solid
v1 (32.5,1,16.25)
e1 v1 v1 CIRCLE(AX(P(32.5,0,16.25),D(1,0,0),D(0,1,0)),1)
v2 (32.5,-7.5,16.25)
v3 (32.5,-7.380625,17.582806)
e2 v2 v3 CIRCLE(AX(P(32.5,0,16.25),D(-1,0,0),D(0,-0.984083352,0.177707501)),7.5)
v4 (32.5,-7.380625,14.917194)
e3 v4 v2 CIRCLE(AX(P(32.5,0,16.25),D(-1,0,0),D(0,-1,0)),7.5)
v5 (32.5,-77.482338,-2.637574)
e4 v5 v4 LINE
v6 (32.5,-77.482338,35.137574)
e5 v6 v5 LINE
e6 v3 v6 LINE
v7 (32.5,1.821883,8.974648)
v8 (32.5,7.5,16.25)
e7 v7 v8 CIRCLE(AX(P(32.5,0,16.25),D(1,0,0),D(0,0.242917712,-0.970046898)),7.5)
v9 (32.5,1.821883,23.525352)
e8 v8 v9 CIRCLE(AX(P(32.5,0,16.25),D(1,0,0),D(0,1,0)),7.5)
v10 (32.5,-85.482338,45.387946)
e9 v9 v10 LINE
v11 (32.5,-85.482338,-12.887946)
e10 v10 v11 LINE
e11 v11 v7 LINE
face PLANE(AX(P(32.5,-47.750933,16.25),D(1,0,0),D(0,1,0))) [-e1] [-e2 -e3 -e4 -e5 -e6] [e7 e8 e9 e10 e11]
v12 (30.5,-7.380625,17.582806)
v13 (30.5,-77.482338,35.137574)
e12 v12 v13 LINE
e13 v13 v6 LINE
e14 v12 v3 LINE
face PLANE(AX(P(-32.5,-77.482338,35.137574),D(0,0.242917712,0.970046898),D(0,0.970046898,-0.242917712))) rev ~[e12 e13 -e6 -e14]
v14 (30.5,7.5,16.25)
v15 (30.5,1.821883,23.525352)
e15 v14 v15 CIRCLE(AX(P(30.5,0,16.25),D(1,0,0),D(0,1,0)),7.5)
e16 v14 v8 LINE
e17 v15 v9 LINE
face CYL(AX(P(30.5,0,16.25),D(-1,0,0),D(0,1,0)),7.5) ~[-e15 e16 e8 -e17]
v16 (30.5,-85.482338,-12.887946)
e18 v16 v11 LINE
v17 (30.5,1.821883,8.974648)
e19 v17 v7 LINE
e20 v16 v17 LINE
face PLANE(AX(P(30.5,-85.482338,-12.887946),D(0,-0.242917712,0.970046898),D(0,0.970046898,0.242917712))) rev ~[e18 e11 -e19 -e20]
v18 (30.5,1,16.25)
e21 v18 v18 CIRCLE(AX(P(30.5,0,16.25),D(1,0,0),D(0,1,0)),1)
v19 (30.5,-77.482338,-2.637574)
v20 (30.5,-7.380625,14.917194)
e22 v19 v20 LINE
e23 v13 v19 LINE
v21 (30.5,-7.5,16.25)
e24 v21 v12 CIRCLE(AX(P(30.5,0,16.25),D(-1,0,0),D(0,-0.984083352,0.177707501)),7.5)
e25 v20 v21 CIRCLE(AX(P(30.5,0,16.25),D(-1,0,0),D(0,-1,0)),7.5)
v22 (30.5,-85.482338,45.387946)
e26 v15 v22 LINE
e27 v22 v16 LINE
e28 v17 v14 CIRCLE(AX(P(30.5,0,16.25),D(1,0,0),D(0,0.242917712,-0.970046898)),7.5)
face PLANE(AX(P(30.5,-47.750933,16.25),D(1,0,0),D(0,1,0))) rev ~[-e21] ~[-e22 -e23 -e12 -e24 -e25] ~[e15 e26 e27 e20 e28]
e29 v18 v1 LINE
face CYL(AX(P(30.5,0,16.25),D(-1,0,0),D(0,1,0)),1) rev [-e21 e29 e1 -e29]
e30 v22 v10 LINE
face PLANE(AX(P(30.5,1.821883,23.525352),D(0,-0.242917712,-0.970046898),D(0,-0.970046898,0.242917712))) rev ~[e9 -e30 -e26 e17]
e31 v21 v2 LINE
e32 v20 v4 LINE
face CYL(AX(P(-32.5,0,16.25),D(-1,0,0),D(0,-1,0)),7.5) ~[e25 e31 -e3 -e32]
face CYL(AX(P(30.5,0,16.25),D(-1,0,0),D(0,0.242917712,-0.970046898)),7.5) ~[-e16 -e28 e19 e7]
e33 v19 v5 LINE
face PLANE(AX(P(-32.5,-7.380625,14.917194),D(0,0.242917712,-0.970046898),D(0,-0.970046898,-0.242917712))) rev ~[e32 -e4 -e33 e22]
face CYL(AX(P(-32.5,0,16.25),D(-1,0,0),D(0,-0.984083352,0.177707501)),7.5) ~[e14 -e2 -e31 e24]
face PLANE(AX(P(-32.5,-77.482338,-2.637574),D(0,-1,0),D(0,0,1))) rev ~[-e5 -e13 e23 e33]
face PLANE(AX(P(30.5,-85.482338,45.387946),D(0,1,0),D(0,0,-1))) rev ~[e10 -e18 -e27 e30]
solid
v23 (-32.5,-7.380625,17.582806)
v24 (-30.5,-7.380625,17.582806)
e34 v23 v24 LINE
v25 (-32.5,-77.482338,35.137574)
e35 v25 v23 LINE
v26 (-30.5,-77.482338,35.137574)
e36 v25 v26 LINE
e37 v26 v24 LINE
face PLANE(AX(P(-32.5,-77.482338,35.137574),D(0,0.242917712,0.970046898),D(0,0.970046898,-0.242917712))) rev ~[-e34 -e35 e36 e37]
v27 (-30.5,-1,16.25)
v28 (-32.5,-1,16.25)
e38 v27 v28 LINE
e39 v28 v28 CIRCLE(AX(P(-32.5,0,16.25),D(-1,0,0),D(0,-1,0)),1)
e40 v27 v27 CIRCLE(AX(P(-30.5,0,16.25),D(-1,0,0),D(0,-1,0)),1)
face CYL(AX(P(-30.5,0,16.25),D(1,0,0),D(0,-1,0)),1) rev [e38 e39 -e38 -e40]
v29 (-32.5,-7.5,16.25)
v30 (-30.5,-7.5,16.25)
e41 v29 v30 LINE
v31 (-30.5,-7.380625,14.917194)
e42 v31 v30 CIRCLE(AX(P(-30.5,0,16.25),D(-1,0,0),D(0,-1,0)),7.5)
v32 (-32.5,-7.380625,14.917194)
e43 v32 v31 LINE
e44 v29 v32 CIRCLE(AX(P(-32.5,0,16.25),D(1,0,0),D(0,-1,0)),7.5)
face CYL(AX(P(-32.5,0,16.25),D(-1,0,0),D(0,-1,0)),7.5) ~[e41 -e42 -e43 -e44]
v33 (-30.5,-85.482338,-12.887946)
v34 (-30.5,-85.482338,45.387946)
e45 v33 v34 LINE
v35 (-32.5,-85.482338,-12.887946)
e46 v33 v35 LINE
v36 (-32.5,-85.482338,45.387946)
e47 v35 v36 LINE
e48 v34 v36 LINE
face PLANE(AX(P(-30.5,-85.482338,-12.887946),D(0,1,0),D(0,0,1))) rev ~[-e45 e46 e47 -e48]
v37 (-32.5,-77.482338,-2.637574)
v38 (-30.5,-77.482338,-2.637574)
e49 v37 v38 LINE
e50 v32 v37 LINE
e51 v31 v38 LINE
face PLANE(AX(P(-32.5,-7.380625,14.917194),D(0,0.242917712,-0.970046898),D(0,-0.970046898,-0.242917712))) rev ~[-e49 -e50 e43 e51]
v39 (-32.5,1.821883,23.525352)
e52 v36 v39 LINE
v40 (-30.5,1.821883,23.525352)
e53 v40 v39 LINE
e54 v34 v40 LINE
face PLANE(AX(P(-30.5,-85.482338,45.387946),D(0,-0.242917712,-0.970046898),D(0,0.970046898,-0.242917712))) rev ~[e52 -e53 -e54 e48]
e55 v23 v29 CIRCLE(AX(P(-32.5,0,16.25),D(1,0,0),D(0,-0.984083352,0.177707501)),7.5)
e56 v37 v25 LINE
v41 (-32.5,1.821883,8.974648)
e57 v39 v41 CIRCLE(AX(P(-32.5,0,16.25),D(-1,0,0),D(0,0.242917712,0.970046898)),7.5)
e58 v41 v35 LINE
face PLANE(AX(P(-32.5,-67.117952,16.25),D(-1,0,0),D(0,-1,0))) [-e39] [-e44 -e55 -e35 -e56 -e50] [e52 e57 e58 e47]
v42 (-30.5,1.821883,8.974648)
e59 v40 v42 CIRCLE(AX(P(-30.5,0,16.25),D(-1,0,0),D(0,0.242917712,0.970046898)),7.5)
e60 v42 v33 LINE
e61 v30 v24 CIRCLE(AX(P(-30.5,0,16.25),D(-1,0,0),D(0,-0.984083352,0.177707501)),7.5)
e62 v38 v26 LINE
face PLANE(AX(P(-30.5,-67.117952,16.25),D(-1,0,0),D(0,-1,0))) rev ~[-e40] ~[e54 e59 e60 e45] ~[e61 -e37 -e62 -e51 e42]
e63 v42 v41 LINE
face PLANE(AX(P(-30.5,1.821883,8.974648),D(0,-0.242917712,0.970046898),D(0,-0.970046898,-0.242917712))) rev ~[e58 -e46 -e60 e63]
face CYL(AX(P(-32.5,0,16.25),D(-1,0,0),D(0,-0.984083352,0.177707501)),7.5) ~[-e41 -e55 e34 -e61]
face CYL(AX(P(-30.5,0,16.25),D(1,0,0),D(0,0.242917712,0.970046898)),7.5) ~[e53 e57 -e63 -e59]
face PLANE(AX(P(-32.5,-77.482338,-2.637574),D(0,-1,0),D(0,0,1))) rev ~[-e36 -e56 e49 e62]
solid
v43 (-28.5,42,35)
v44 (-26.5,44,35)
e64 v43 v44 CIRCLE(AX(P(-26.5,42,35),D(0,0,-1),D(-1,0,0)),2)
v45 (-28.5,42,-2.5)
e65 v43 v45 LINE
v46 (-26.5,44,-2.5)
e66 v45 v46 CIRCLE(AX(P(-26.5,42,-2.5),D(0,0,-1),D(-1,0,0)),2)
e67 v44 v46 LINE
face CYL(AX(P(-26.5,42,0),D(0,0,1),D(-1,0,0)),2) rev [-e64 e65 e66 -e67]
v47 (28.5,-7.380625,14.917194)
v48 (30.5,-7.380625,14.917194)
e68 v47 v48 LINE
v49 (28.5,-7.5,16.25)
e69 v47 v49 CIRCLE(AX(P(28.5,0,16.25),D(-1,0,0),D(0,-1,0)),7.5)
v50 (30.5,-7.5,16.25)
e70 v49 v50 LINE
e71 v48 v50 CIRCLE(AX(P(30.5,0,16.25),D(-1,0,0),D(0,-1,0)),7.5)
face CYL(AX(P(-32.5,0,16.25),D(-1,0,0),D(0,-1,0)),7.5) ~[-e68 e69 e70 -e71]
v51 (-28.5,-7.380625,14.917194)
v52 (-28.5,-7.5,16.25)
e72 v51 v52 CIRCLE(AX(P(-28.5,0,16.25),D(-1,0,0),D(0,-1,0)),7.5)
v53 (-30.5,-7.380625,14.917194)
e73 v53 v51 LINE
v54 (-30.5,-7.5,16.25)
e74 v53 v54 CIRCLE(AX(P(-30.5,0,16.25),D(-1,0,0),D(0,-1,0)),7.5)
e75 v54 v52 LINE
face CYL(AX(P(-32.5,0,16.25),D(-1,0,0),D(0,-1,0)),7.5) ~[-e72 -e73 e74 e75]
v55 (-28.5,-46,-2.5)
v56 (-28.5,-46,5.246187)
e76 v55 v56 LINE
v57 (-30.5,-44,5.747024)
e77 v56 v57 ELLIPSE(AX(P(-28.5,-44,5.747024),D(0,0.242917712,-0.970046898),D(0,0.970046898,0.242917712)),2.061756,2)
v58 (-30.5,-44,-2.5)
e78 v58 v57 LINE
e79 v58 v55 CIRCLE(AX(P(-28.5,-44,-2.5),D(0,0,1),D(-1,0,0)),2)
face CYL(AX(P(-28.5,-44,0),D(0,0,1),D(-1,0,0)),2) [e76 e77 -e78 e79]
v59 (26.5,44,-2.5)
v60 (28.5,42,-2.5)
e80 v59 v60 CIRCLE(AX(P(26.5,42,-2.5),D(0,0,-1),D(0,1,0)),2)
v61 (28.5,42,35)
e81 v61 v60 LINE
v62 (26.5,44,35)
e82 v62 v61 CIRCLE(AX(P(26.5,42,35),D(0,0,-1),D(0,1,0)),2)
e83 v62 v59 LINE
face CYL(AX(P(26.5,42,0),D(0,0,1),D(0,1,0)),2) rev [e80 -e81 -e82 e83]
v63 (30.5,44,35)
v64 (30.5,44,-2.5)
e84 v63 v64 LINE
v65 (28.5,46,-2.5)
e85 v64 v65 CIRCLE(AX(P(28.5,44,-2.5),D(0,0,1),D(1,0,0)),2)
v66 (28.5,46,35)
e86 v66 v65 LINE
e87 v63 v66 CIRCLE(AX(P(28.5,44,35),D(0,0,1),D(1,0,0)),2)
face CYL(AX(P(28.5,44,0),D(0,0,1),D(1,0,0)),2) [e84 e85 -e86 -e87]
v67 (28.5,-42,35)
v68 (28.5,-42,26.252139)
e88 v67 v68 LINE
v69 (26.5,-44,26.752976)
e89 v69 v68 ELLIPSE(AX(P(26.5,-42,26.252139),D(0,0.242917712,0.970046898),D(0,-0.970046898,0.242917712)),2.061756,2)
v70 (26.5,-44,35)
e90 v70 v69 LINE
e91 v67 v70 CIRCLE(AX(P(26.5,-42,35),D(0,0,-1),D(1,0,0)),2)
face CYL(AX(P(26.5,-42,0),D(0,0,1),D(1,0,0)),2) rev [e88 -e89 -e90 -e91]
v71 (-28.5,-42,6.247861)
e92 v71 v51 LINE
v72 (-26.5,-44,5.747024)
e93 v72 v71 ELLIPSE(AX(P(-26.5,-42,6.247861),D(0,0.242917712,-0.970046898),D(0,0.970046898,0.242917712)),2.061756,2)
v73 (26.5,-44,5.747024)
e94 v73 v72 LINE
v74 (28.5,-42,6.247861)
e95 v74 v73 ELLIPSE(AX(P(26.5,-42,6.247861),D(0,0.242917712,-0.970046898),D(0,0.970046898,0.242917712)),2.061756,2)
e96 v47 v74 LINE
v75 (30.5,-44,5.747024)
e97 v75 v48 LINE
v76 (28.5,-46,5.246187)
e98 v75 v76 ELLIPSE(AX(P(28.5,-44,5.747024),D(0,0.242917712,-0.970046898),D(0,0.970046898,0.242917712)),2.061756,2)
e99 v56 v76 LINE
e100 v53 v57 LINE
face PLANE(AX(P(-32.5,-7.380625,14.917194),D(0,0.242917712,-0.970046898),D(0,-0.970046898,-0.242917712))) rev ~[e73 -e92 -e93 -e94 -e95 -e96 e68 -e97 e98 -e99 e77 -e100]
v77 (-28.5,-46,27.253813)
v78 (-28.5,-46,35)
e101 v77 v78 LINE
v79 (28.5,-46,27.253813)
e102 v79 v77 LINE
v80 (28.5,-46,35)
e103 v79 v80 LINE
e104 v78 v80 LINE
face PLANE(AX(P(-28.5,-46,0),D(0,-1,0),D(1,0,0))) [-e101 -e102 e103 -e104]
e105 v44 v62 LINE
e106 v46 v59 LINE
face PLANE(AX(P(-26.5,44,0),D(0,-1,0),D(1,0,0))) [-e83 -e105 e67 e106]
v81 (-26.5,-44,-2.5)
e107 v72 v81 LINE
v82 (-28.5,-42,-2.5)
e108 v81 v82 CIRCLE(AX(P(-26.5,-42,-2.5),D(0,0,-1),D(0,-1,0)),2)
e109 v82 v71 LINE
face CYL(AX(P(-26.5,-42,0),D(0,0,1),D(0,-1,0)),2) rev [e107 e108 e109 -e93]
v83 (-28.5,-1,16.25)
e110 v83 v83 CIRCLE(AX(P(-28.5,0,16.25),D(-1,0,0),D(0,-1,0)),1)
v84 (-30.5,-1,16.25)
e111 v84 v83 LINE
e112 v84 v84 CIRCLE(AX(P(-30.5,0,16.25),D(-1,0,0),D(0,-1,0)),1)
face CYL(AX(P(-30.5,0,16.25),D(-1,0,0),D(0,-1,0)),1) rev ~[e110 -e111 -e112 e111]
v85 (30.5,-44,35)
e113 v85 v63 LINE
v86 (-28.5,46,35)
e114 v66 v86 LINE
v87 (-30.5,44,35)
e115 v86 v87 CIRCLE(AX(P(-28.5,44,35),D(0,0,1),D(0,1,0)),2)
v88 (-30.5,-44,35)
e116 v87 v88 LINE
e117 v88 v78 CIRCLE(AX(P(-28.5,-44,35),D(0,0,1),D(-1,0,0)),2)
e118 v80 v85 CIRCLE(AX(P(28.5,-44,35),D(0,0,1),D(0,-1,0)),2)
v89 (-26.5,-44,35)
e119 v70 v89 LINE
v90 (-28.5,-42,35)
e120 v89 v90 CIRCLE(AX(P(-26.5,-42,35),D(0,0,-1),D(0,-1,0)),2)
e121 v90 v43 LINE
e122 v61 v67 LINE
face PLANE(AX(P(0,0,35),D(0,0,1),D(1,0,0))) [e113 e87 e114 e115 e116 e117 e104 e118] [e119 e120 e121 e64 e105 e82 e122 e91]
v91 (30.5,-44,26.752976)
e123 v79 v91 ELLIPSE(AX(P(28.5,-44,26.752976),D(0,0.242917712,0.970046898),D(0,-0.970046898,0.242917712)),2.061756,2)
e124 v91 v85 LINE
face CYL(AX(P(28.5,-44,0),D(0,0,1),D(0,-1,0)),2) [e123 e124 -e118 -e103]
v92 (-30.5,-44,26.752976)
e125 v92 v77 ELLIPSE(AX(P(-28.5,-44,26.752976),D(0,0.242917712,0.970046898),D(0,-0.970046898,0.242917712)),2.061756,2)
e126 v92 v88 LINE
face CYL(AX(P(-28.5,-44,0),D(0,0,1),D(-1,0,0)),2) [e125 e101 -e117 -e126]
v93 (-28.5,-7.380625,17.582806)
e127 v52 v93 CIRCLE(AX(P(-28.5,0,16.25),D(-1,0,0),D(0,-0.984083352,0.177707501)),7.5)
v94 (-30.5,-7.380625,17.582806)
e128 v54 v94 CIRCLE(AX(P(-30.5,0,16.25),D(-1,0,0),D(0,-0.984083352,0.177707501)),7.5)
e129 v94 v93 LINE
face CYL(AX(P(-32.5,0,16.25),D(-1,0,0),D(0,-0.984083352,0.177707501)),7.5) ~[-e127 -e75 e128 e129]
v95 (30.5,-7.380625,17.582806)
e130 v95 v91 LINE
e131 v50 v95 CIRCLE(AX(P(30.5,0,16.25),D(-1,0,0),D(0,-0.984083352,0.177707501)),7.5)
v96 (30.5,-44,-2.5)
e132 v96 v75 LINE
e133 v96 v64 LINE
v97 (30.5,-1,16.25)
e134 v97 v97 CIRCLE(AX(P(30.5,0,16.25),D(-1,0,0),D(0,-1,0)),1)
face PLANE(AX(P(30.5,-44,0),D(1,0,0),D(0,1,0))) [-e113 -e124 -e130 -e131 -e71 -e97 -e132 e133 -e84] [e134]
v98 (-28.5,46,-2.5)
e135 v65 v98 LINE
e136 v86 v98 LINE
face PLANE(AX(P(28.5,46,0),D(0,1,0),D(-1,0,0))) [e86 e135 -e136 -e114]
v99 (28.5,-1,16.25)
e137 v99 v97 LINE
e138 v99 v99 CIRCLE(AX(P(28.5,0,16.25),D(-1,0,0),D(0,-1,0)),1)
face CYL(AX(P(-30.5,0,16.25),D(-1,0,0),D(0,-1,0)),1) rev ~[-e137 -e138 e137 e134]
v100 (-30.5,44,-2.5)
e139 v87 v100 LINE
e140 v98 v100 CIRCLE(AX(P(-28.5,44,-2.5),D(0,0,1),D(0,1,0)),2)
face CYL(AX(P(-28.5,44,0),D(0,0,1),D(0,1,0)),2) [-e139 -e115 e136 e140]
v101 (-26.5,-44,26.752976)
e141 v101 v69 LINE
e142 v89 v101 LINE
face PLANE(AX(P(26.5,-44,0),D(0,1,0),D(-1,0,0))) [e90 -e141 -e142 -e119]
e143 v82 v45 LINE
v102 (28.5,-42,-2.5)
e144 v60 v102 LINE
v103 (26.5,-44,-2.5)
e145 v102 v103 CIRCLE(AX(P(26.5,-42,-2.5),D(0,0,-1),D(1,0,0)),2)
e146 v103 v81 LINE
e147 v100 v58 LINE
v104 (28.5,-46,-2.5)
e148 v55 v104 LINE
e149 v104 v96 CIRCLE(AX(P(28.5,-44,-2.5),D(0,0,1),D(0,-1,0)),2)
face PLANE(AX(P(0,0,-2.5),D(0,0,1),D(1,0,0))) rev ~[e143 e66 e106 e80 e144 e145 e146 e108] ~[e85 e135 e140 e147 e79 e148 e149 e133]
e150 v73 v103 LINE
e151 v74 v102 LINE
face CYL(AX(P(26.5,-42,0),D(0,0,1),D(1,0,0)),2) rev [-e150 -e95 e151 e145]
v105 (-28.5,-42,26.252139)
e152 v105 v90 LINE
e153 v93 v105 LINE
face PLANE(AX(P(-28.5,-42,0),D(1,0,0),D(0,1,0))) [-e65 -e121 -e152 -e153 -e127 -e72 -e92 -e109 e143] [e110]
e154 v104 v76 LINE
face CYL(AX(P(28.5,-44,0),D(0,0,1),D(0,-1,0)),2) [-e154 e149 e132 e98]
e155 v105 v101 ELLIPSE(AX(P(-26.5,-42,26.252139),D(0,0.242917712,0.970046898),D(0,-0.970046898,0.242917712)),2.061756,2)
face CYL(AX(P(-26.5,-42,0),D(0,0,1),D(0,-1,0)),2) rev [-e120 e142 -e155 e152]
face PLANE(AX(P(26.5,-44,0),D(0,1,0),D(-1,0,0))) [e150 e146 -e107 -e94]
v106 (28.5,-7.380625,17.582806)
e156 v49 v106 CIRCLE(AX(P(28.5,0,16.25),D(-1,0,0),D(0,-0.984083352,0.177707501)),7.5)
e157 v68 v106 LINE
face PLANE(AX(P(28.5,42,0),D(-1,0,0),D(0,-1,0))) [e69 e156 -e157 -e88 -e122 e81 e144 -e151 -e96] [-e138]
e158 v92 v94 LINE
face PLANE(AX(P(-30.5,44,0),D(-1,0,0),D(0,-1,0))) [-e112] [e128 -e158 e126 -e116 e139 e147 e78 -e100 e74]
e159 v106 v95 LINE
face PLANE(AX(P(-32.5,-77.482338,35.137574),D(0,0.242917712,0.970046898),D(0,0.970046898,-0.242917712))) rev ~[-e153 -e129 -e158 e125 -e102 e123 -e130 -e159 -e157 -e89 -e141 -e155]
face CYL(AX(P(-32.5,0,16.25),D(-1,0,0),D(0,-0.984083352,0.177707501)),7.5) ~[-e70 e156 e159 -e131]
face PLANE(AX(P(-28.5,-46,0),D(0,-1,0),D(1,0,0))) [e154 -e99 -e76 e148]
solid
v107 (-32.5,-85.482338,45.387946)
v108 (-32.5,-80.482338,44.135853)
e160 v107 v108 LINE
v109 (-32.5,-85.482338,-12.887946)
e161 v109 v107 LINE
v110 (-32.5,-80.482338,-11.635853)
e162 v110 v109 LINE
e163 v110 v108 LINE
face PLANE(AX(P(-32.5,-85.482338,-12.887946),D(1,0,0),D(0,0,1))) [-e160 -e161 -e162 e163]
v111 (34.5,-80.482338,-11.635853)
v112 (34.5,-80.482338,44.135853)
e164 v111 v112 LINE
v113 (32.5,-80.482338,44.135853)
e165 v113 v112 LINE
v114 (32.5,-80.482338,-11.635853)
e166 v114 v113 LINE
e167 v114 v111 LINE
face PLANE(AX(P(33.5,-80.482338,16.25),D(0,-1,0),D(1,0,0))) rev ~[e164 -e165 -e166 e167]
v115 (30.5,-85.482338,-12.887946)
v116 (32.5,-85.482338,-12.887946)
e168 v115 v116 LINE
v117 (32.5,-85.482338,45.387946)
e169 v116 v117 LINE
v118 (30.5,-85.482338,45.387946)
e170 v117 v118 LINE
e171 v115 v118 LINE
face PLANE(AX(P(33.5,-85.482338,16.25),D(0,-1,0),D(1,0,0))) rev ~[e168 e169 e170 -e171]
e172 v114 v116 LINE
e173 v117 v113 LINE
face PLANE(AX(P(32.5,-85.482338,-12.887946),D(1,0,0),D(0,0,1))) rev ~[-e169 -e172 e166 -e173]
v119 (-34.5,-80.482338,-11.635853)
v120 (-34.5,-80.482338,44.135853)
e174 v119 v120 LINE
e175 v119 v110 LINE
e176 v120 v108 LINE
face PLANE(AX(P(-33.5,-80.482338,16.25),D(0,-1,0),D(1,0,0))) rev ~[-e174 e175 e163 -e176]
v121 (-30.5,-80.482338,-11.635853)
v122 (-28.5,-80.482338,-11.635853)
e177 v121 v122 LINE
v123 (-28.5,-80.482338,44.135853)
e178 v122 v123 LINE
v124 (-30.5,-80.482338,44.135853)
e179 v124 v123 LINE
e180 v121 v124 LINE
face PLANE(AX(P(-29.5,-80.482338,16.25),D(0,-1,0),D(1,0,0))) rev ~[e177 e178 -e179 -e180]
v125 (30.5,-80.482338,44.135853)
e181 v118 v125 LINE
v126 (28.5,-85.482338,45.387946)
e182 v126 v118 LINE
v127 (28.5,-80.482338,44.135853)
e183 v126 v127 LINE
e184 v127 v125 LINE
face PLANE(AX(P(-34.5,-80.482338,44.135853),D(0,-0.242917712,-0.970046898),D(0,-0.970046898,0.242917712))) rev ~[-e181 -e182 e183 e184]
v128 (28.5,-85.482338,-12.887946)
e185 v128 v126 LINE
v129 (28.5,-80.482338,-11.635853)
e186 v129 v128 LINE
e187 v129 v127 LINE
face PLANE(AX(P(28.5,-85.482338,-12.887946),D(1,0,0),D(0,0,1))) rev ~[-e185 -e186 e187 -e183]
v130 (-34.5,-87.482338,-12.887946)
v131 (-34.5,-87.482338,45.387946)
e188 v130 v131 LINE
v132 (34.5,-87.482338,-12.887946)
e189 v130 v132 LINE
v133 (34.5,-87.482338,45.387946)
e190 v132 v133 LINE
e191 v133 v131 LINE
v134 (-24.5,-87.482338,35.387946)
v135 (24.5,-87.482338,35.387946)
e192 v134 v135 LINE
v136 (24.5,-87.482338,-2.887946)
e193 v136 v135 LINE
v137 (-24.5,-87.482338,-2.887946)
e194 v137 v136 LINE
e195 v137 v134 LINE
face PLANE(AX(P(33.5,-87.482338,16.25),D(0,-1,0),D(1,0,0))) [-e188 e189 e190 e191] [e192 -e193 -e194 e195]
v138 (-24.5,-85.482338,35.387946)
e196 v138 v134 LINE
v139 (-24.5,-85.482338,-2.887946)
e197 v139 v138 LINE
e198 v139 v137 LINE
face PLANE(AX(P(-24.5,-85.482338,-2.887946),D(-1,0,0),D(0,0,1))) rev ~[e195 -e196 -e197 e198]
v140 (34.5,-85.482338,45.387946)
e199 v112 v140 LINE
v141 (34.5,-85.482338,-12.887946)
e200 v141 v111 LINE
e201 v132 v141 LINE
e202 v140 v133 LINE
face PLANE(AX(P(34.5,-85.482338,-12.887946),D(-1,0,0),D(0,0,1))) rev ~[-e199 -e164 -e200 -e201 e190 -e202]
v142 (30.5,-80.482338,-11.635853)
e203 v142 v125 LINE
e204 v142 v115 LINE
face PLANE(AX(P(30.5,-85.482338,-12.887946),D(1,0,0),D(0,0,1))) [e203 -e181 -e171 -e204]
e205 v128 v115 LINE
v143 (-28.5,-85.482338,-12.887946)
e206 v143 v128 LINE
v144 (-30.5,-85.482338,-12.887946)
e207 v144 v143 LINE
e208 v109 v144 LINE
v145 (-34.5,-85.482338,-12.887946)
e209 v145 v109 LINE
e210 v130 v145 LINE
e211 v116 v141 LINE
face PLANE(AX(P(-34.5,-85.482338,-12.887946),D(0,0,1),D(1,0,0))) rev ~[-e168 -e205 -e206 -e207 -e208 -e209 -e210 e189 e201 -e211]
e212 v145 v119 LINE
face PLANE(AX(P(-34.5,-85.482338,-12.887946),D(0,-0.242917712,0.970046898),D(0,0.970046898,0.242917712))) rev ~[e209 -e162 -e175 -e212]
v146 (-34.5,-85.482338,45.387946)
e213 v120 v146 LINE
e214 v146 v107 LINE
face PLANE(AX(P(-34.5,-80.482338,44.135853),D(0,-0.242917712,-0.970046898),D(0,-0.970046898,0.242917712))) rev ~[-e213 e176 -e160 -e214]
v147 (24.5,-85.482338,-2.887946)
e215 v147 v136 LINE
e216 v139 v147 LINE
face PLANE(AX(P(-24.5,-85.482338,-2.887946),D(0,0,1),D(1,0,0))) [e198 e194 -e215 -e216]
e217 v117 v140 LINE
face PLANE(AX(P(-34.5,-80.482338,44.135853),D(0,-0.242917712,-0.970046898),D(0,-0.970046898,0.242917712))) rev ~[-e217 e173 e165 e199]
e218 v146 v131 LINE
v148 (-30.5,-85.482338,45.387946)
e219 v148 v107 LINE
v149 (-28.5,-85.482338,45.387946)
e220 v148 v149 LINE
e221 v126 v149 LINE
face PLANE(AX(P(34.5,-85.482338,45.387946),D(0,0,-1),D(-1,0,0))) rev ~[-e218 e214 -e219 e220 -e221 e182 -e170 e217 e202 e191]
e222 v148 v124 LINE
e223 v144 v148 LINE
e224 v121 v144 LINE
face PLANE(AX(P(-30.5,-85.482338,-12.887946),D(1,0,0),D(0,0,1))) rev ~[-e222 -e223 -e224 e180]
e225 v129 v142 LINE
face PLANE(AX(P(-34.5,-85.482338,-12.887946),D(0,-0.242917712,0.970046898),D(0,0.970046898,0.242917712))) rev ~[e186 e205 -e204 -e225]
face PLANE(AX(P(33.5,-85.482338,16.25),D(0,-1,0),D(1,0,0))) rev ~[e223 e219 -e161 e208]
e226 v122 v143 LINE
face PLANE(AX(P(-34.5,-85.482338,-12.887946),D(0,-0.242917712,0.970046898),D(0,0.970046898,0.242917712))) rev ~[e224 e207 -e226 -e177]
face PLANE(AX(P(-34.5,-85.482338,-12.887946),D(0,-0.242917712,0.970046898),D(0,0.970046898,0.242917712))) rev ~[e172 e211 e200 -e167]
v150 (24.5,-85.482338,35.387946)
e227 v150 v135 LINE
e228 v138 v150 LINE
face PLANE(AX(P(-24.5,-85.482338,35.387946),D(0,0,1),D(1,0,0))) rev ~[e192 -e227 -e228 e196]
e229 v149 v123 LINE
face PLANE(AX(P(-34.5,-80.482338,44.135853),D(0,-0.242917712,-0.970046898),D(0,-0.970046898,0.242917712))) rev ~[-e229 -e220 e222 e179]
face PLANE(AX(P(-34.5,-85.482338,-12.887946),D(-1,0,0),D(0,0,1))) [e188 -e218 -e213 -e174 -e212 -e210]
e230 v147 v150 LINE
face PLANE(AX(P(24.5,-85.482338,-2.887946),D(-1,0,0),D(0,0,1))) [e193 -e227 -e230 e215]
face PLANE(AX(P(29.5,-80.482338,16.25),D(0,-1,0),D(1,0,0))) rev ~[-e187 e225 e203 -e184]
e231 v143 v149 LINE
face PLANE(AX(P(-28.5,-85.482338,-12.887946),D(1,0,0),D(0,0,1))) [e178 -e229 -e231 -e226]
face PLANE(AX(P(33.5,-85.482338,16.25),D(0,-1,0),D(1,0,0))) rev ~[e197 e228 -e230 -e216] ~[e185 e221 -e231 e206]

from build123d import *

# Parameters (mm, degrees)
F1_DEPTH      = 35
F1_DEPTH_BACK = 2.5
F2_R          = 1
F3_DEPTH      = 61.001
F5_R          = 1
F6_DEPTH      = 2
F8_R          = 1
F9_DEPTH      = 2
F10_W         = 2
F10_H         = 58.2758917019
F11_DEPTH     = 5
F10_W_2       = 57
F10_W_3       = 49
F10_H_2       = 38.2758917019
F12_DEPTH     = 2
F14_DEPTH     = 69.001
F16_DEPTH     = 67.001


with BuildPart() as f1:
    # F0 (on Top) → F1 (new body, two sides)
    with BuildSketch(Plane.XY) as f1_sk:
        with BuildLine():
            Line((-30.5, 44), (-30.5, 0))
            Line((-30.5, 0), (-30.5, -44))
            ThreePointArc((-30.5, -44), (-29.9142135624, -45.4142135624), (-28.5, -46))
            Line((-28.5, -46), (28.5, -46))
            ThreePointArc((28.5, -46), (29.9142135624, -45.4142135624), (30.5, -44))
            Line((30.5, -44), (30.5, 0))
            Line((30.5, 0), (30.5, 44))
            ThreePointArc((30.5, 44), (29.9142135624, 45.4142135624), (28.5, 46))
            Line((28.5, 46), (-28.5, 46))
            ThreePointArc((-28.5, 46), (-29.9142135624, 45.4142135624), (-30.5, 44))
        make_face()
        with BuildLine():
            Line((-28.5, -42), (-28.5, 0))
            Line((-28.5, 0), (-28.5, 42))
            ThreePointArc((-28.5, 42), (-27.9142135624, 43.4142135624), (-26.5, 44))
            Line((-26.5, 44), (26.5, 44))
            ThreePointArc((26.5, 44), (27.9142135624, 43.4142135624), (28.5, 42))
            Line((28.5, 42), (28.5, 0))
            Line((28.5, 0), (28.5, -42))
            ThreePointArc((28.5, -42), (27.9142135624, -43.4142135624), (26.5, -44))
            Line((26.5, -44), (10, -44))
            Line((10, -44), (9.5, -44))
            Line((9.5, -44), (-5.5, -44))
            Line((-5.5, -44), (-10, -44))
            Line((-10, -44), (-26.5, -44))
            ThreePointArc((-26.5, -44), (-27.9142135624, -43.4142135624), (-28.5, -42))
        make_face(mode=Mode.SUBTRACT)
    extrude(amount=F1_DEPTH)
    extrude(f1_sk.sketch, amount=-F1_DEPTH_BACK)

    # F2 (on face) → F3 (cut, through all)
    with BuildSketch(Plane(origin=(-30.5, 0, 0), x_dir=(0, -1, 0), z_dir=(-1, 0, 0))):
        with Locations((0, 16.25)):
            Circle(F2_R)
    extrude(amount=-F3_DEPTH, mode=Mode.SUBTRACT)


with BuildPart() as f6:
    # F5 (on offset) → F6 (new body)
    with BuildSketch(Plane(origin=(-30.5, 0, 0), x_dir=(0, -1, 0), z_dir=(-1, 0, 0))):
        Polygon((85.4823380096, 45.3879458509), (44, 35), (44, -2.5), (85.4823380096, -12.8879458509), align=None)
        with BuildLine():
            ThreePointArc((-1.8218828428, 23.5253517377), (4.6144273035, 22.1624496328), (7.5, 16.25))
            ThreePointArc((7.5, 16.25), (4.6144273035, 10.3375503672), (-1.8218828428, 8.9746482623))
            Line((-1.8218828428, 8.9746482623), (44, -2.5))
            Line((44, -2.5), (44, 35))
            Line((44, 35), (-1.8218828428, 23.5253517377))
        make_face()
        with BuildLine():
            ThreePointArc((-1.8218828428, 8.9746482623), (4.6144273035, 10.3375503672), (7.5, 16.25))
            ThreePointArc((7.5, 16.25), (4.6144273035, 22.1624496328), (-1.8218828428, 23.5253517377))
            ThreePointArc((-1.8218828428, 23.5253517377), (-7.5, 16.25), (-1.8218828428, 8.9746482623))
        make_face()
        with Locations((0, 16.25)):
            Circle(F5_R, mode=Mode.SUBTRACT)
    extrude(amount=F6_DEPTH)


with BuildPart() as f9:
    # F8 (on offset) → F9 (new body)
    with BuildSketch(Plane.YZ.offset(30.5)):
        with BuildLine():
            ThreePointArc((1.8218828428, 8.9746482623), (-7.5, 16.25), (1.8218828428, 23.5253517377))
            Line((1.8218828428, 23.5253517377), (-85.4823380096, 45.3879458509))
            Line((-85.4823380096, 45.3879458509), (-85.4823380096, -12.8879458509))
            Line((-85.4823380096, -12.8879458509), (1.8218828428, 8.9746482623))
        make_face()
        with BuildLine():
            ThreePointArc((7.5, 16.25), (5.9124496328, 20.8644273035), (1.8218828428, 23.5253517377))
            ThreePointArc((1.8218828428, 23.5253517377), (-7.5, 16.25), (1.8218828428, 8.9746482623))
            ThreePointArc((1.8218828428, 8.9746482623), (5.9124496328, 11.6355726965), (7.5, 16.25))
        make_face()
        with Locations((0, 16.25)):
            Circle(F8_R, mode=Mode.SUBTRACT)
    extrude(amount=F9_DEPTH)


with BuildPart() as f11:
    # F10 (on face) → F11 (new body)
    with BuildSketch(Plane.XZ.offset(85.4823380096)):
        with Locations((33.5, 16.25)):
            Rectangle(F10_W, F10_H)
        with Locations((29.5, 16.25)):
            Rectangle(F10_W, F10_H)
        with Locations((-29.5, 16.25)):
            Rectangle(F10_W, F10_H)
        with Locations((-33.5, 16.25)):
            Rectangle(F10_W, F10_H)
    extrude(amount=-F11_DEPTH)

    # F10 (on face) → F12 (join)
    with BuildSketch(Plane.XZ.offset(85.4823380096)):
        with Locations((33.5, 16.25)):
            Rectangle(F10_W, F10_H)
        with Locations((31.5, 16.25)):
            Rectangle(F10_W, F10_H)
        with Locations((0, 16.25)):
            Rectangle(F10_W_2, F10_H)
        with Locations((0, 16.25)):
            Rectangle(F10_W_3, F10_H_2, mode=Mode.SUBTRACT)
        with Locations((-29.5, 16.25)):
            Rectangle(F10_W, F10_H)
        with Locations((-31.5, 16.25)):
            Rectangle(F10_W, F10_H)
        with Locations((-33.5, 16.25)):
            Rectangle(F10_W, F10_H)
        with Locations((29.5, 16.25)):
            Rectangle(F10_W, F10_H)
    extrude(amount=F12_DEPTH)

    # F13 (on face) → F14 (cut, through all)
    with BuildSketch(Plane(origin=(-34.5, 0, 0), x_dir=(0, -1, 0), z_dir=(-1, 0, 0))):
        Polygon((85.4823380096, -12.8879458509), (80.4823380096, -11.6358532316), (80.4823380096, -12.8879458509), align=None)
        Polygon((80.4823380096, 45.3879458509), (80.4823380096, 44.1358532316), (85.4823380096, 45.3879458509), align=None)
    extrude(amount=-F14_DEPTH, mode=Mode.SUBTRACT)


with BuildPart() as f16_tool:
    # F15 (on face) → F16 (new body, through all)
    with BuildSketch(Plane(origin=(-32.5, 0, 0), x_dir=(0, -1, 0), z_dir=(-1, 0, 0))):
        with BuildLine():
            ThreePointArc((7.3806251417, 17.5828062565), (7.4700966715, 16.9190707874), (7.5, 16.25))
            ThreePointArc((7.5, 16.25), (7.4700966715, 15.5809292126), (7.3806251417, 14.9171937435))
            Line((7.3806251417, 14.9171937435), (77.4823380096, -2.6375737135))
            Line((77.4823380096, -2.6375737135), (77.4823380096, 35.1375737135))
            Line((77.4823380096, 35.1375737135), (7.3806251417, 17.5828062565))
        make_face()
    extrude(amount=-F16_DEPTH)


with BuildPart() as f1_1:
    add(f1.part)

    # F16: cut by f16_tool
    add(f16_tool.part, mode=Mode.SUBTRACT)


with BuildPart() as f6_1:
    add(f6.part)

    # F16: cut by f16_tool
    add(f16_tool.part, mode=Mode.SUBTRACT)


with BuildPart() as f9_1:
    add(f9.part)

    # F16: cut by f16_tool
    add(f16_tool.part, mode=Mode.SUBTRACT)


solid = Compound([f11.part, f1_1.part, f6_1.part, f9_1.part])
